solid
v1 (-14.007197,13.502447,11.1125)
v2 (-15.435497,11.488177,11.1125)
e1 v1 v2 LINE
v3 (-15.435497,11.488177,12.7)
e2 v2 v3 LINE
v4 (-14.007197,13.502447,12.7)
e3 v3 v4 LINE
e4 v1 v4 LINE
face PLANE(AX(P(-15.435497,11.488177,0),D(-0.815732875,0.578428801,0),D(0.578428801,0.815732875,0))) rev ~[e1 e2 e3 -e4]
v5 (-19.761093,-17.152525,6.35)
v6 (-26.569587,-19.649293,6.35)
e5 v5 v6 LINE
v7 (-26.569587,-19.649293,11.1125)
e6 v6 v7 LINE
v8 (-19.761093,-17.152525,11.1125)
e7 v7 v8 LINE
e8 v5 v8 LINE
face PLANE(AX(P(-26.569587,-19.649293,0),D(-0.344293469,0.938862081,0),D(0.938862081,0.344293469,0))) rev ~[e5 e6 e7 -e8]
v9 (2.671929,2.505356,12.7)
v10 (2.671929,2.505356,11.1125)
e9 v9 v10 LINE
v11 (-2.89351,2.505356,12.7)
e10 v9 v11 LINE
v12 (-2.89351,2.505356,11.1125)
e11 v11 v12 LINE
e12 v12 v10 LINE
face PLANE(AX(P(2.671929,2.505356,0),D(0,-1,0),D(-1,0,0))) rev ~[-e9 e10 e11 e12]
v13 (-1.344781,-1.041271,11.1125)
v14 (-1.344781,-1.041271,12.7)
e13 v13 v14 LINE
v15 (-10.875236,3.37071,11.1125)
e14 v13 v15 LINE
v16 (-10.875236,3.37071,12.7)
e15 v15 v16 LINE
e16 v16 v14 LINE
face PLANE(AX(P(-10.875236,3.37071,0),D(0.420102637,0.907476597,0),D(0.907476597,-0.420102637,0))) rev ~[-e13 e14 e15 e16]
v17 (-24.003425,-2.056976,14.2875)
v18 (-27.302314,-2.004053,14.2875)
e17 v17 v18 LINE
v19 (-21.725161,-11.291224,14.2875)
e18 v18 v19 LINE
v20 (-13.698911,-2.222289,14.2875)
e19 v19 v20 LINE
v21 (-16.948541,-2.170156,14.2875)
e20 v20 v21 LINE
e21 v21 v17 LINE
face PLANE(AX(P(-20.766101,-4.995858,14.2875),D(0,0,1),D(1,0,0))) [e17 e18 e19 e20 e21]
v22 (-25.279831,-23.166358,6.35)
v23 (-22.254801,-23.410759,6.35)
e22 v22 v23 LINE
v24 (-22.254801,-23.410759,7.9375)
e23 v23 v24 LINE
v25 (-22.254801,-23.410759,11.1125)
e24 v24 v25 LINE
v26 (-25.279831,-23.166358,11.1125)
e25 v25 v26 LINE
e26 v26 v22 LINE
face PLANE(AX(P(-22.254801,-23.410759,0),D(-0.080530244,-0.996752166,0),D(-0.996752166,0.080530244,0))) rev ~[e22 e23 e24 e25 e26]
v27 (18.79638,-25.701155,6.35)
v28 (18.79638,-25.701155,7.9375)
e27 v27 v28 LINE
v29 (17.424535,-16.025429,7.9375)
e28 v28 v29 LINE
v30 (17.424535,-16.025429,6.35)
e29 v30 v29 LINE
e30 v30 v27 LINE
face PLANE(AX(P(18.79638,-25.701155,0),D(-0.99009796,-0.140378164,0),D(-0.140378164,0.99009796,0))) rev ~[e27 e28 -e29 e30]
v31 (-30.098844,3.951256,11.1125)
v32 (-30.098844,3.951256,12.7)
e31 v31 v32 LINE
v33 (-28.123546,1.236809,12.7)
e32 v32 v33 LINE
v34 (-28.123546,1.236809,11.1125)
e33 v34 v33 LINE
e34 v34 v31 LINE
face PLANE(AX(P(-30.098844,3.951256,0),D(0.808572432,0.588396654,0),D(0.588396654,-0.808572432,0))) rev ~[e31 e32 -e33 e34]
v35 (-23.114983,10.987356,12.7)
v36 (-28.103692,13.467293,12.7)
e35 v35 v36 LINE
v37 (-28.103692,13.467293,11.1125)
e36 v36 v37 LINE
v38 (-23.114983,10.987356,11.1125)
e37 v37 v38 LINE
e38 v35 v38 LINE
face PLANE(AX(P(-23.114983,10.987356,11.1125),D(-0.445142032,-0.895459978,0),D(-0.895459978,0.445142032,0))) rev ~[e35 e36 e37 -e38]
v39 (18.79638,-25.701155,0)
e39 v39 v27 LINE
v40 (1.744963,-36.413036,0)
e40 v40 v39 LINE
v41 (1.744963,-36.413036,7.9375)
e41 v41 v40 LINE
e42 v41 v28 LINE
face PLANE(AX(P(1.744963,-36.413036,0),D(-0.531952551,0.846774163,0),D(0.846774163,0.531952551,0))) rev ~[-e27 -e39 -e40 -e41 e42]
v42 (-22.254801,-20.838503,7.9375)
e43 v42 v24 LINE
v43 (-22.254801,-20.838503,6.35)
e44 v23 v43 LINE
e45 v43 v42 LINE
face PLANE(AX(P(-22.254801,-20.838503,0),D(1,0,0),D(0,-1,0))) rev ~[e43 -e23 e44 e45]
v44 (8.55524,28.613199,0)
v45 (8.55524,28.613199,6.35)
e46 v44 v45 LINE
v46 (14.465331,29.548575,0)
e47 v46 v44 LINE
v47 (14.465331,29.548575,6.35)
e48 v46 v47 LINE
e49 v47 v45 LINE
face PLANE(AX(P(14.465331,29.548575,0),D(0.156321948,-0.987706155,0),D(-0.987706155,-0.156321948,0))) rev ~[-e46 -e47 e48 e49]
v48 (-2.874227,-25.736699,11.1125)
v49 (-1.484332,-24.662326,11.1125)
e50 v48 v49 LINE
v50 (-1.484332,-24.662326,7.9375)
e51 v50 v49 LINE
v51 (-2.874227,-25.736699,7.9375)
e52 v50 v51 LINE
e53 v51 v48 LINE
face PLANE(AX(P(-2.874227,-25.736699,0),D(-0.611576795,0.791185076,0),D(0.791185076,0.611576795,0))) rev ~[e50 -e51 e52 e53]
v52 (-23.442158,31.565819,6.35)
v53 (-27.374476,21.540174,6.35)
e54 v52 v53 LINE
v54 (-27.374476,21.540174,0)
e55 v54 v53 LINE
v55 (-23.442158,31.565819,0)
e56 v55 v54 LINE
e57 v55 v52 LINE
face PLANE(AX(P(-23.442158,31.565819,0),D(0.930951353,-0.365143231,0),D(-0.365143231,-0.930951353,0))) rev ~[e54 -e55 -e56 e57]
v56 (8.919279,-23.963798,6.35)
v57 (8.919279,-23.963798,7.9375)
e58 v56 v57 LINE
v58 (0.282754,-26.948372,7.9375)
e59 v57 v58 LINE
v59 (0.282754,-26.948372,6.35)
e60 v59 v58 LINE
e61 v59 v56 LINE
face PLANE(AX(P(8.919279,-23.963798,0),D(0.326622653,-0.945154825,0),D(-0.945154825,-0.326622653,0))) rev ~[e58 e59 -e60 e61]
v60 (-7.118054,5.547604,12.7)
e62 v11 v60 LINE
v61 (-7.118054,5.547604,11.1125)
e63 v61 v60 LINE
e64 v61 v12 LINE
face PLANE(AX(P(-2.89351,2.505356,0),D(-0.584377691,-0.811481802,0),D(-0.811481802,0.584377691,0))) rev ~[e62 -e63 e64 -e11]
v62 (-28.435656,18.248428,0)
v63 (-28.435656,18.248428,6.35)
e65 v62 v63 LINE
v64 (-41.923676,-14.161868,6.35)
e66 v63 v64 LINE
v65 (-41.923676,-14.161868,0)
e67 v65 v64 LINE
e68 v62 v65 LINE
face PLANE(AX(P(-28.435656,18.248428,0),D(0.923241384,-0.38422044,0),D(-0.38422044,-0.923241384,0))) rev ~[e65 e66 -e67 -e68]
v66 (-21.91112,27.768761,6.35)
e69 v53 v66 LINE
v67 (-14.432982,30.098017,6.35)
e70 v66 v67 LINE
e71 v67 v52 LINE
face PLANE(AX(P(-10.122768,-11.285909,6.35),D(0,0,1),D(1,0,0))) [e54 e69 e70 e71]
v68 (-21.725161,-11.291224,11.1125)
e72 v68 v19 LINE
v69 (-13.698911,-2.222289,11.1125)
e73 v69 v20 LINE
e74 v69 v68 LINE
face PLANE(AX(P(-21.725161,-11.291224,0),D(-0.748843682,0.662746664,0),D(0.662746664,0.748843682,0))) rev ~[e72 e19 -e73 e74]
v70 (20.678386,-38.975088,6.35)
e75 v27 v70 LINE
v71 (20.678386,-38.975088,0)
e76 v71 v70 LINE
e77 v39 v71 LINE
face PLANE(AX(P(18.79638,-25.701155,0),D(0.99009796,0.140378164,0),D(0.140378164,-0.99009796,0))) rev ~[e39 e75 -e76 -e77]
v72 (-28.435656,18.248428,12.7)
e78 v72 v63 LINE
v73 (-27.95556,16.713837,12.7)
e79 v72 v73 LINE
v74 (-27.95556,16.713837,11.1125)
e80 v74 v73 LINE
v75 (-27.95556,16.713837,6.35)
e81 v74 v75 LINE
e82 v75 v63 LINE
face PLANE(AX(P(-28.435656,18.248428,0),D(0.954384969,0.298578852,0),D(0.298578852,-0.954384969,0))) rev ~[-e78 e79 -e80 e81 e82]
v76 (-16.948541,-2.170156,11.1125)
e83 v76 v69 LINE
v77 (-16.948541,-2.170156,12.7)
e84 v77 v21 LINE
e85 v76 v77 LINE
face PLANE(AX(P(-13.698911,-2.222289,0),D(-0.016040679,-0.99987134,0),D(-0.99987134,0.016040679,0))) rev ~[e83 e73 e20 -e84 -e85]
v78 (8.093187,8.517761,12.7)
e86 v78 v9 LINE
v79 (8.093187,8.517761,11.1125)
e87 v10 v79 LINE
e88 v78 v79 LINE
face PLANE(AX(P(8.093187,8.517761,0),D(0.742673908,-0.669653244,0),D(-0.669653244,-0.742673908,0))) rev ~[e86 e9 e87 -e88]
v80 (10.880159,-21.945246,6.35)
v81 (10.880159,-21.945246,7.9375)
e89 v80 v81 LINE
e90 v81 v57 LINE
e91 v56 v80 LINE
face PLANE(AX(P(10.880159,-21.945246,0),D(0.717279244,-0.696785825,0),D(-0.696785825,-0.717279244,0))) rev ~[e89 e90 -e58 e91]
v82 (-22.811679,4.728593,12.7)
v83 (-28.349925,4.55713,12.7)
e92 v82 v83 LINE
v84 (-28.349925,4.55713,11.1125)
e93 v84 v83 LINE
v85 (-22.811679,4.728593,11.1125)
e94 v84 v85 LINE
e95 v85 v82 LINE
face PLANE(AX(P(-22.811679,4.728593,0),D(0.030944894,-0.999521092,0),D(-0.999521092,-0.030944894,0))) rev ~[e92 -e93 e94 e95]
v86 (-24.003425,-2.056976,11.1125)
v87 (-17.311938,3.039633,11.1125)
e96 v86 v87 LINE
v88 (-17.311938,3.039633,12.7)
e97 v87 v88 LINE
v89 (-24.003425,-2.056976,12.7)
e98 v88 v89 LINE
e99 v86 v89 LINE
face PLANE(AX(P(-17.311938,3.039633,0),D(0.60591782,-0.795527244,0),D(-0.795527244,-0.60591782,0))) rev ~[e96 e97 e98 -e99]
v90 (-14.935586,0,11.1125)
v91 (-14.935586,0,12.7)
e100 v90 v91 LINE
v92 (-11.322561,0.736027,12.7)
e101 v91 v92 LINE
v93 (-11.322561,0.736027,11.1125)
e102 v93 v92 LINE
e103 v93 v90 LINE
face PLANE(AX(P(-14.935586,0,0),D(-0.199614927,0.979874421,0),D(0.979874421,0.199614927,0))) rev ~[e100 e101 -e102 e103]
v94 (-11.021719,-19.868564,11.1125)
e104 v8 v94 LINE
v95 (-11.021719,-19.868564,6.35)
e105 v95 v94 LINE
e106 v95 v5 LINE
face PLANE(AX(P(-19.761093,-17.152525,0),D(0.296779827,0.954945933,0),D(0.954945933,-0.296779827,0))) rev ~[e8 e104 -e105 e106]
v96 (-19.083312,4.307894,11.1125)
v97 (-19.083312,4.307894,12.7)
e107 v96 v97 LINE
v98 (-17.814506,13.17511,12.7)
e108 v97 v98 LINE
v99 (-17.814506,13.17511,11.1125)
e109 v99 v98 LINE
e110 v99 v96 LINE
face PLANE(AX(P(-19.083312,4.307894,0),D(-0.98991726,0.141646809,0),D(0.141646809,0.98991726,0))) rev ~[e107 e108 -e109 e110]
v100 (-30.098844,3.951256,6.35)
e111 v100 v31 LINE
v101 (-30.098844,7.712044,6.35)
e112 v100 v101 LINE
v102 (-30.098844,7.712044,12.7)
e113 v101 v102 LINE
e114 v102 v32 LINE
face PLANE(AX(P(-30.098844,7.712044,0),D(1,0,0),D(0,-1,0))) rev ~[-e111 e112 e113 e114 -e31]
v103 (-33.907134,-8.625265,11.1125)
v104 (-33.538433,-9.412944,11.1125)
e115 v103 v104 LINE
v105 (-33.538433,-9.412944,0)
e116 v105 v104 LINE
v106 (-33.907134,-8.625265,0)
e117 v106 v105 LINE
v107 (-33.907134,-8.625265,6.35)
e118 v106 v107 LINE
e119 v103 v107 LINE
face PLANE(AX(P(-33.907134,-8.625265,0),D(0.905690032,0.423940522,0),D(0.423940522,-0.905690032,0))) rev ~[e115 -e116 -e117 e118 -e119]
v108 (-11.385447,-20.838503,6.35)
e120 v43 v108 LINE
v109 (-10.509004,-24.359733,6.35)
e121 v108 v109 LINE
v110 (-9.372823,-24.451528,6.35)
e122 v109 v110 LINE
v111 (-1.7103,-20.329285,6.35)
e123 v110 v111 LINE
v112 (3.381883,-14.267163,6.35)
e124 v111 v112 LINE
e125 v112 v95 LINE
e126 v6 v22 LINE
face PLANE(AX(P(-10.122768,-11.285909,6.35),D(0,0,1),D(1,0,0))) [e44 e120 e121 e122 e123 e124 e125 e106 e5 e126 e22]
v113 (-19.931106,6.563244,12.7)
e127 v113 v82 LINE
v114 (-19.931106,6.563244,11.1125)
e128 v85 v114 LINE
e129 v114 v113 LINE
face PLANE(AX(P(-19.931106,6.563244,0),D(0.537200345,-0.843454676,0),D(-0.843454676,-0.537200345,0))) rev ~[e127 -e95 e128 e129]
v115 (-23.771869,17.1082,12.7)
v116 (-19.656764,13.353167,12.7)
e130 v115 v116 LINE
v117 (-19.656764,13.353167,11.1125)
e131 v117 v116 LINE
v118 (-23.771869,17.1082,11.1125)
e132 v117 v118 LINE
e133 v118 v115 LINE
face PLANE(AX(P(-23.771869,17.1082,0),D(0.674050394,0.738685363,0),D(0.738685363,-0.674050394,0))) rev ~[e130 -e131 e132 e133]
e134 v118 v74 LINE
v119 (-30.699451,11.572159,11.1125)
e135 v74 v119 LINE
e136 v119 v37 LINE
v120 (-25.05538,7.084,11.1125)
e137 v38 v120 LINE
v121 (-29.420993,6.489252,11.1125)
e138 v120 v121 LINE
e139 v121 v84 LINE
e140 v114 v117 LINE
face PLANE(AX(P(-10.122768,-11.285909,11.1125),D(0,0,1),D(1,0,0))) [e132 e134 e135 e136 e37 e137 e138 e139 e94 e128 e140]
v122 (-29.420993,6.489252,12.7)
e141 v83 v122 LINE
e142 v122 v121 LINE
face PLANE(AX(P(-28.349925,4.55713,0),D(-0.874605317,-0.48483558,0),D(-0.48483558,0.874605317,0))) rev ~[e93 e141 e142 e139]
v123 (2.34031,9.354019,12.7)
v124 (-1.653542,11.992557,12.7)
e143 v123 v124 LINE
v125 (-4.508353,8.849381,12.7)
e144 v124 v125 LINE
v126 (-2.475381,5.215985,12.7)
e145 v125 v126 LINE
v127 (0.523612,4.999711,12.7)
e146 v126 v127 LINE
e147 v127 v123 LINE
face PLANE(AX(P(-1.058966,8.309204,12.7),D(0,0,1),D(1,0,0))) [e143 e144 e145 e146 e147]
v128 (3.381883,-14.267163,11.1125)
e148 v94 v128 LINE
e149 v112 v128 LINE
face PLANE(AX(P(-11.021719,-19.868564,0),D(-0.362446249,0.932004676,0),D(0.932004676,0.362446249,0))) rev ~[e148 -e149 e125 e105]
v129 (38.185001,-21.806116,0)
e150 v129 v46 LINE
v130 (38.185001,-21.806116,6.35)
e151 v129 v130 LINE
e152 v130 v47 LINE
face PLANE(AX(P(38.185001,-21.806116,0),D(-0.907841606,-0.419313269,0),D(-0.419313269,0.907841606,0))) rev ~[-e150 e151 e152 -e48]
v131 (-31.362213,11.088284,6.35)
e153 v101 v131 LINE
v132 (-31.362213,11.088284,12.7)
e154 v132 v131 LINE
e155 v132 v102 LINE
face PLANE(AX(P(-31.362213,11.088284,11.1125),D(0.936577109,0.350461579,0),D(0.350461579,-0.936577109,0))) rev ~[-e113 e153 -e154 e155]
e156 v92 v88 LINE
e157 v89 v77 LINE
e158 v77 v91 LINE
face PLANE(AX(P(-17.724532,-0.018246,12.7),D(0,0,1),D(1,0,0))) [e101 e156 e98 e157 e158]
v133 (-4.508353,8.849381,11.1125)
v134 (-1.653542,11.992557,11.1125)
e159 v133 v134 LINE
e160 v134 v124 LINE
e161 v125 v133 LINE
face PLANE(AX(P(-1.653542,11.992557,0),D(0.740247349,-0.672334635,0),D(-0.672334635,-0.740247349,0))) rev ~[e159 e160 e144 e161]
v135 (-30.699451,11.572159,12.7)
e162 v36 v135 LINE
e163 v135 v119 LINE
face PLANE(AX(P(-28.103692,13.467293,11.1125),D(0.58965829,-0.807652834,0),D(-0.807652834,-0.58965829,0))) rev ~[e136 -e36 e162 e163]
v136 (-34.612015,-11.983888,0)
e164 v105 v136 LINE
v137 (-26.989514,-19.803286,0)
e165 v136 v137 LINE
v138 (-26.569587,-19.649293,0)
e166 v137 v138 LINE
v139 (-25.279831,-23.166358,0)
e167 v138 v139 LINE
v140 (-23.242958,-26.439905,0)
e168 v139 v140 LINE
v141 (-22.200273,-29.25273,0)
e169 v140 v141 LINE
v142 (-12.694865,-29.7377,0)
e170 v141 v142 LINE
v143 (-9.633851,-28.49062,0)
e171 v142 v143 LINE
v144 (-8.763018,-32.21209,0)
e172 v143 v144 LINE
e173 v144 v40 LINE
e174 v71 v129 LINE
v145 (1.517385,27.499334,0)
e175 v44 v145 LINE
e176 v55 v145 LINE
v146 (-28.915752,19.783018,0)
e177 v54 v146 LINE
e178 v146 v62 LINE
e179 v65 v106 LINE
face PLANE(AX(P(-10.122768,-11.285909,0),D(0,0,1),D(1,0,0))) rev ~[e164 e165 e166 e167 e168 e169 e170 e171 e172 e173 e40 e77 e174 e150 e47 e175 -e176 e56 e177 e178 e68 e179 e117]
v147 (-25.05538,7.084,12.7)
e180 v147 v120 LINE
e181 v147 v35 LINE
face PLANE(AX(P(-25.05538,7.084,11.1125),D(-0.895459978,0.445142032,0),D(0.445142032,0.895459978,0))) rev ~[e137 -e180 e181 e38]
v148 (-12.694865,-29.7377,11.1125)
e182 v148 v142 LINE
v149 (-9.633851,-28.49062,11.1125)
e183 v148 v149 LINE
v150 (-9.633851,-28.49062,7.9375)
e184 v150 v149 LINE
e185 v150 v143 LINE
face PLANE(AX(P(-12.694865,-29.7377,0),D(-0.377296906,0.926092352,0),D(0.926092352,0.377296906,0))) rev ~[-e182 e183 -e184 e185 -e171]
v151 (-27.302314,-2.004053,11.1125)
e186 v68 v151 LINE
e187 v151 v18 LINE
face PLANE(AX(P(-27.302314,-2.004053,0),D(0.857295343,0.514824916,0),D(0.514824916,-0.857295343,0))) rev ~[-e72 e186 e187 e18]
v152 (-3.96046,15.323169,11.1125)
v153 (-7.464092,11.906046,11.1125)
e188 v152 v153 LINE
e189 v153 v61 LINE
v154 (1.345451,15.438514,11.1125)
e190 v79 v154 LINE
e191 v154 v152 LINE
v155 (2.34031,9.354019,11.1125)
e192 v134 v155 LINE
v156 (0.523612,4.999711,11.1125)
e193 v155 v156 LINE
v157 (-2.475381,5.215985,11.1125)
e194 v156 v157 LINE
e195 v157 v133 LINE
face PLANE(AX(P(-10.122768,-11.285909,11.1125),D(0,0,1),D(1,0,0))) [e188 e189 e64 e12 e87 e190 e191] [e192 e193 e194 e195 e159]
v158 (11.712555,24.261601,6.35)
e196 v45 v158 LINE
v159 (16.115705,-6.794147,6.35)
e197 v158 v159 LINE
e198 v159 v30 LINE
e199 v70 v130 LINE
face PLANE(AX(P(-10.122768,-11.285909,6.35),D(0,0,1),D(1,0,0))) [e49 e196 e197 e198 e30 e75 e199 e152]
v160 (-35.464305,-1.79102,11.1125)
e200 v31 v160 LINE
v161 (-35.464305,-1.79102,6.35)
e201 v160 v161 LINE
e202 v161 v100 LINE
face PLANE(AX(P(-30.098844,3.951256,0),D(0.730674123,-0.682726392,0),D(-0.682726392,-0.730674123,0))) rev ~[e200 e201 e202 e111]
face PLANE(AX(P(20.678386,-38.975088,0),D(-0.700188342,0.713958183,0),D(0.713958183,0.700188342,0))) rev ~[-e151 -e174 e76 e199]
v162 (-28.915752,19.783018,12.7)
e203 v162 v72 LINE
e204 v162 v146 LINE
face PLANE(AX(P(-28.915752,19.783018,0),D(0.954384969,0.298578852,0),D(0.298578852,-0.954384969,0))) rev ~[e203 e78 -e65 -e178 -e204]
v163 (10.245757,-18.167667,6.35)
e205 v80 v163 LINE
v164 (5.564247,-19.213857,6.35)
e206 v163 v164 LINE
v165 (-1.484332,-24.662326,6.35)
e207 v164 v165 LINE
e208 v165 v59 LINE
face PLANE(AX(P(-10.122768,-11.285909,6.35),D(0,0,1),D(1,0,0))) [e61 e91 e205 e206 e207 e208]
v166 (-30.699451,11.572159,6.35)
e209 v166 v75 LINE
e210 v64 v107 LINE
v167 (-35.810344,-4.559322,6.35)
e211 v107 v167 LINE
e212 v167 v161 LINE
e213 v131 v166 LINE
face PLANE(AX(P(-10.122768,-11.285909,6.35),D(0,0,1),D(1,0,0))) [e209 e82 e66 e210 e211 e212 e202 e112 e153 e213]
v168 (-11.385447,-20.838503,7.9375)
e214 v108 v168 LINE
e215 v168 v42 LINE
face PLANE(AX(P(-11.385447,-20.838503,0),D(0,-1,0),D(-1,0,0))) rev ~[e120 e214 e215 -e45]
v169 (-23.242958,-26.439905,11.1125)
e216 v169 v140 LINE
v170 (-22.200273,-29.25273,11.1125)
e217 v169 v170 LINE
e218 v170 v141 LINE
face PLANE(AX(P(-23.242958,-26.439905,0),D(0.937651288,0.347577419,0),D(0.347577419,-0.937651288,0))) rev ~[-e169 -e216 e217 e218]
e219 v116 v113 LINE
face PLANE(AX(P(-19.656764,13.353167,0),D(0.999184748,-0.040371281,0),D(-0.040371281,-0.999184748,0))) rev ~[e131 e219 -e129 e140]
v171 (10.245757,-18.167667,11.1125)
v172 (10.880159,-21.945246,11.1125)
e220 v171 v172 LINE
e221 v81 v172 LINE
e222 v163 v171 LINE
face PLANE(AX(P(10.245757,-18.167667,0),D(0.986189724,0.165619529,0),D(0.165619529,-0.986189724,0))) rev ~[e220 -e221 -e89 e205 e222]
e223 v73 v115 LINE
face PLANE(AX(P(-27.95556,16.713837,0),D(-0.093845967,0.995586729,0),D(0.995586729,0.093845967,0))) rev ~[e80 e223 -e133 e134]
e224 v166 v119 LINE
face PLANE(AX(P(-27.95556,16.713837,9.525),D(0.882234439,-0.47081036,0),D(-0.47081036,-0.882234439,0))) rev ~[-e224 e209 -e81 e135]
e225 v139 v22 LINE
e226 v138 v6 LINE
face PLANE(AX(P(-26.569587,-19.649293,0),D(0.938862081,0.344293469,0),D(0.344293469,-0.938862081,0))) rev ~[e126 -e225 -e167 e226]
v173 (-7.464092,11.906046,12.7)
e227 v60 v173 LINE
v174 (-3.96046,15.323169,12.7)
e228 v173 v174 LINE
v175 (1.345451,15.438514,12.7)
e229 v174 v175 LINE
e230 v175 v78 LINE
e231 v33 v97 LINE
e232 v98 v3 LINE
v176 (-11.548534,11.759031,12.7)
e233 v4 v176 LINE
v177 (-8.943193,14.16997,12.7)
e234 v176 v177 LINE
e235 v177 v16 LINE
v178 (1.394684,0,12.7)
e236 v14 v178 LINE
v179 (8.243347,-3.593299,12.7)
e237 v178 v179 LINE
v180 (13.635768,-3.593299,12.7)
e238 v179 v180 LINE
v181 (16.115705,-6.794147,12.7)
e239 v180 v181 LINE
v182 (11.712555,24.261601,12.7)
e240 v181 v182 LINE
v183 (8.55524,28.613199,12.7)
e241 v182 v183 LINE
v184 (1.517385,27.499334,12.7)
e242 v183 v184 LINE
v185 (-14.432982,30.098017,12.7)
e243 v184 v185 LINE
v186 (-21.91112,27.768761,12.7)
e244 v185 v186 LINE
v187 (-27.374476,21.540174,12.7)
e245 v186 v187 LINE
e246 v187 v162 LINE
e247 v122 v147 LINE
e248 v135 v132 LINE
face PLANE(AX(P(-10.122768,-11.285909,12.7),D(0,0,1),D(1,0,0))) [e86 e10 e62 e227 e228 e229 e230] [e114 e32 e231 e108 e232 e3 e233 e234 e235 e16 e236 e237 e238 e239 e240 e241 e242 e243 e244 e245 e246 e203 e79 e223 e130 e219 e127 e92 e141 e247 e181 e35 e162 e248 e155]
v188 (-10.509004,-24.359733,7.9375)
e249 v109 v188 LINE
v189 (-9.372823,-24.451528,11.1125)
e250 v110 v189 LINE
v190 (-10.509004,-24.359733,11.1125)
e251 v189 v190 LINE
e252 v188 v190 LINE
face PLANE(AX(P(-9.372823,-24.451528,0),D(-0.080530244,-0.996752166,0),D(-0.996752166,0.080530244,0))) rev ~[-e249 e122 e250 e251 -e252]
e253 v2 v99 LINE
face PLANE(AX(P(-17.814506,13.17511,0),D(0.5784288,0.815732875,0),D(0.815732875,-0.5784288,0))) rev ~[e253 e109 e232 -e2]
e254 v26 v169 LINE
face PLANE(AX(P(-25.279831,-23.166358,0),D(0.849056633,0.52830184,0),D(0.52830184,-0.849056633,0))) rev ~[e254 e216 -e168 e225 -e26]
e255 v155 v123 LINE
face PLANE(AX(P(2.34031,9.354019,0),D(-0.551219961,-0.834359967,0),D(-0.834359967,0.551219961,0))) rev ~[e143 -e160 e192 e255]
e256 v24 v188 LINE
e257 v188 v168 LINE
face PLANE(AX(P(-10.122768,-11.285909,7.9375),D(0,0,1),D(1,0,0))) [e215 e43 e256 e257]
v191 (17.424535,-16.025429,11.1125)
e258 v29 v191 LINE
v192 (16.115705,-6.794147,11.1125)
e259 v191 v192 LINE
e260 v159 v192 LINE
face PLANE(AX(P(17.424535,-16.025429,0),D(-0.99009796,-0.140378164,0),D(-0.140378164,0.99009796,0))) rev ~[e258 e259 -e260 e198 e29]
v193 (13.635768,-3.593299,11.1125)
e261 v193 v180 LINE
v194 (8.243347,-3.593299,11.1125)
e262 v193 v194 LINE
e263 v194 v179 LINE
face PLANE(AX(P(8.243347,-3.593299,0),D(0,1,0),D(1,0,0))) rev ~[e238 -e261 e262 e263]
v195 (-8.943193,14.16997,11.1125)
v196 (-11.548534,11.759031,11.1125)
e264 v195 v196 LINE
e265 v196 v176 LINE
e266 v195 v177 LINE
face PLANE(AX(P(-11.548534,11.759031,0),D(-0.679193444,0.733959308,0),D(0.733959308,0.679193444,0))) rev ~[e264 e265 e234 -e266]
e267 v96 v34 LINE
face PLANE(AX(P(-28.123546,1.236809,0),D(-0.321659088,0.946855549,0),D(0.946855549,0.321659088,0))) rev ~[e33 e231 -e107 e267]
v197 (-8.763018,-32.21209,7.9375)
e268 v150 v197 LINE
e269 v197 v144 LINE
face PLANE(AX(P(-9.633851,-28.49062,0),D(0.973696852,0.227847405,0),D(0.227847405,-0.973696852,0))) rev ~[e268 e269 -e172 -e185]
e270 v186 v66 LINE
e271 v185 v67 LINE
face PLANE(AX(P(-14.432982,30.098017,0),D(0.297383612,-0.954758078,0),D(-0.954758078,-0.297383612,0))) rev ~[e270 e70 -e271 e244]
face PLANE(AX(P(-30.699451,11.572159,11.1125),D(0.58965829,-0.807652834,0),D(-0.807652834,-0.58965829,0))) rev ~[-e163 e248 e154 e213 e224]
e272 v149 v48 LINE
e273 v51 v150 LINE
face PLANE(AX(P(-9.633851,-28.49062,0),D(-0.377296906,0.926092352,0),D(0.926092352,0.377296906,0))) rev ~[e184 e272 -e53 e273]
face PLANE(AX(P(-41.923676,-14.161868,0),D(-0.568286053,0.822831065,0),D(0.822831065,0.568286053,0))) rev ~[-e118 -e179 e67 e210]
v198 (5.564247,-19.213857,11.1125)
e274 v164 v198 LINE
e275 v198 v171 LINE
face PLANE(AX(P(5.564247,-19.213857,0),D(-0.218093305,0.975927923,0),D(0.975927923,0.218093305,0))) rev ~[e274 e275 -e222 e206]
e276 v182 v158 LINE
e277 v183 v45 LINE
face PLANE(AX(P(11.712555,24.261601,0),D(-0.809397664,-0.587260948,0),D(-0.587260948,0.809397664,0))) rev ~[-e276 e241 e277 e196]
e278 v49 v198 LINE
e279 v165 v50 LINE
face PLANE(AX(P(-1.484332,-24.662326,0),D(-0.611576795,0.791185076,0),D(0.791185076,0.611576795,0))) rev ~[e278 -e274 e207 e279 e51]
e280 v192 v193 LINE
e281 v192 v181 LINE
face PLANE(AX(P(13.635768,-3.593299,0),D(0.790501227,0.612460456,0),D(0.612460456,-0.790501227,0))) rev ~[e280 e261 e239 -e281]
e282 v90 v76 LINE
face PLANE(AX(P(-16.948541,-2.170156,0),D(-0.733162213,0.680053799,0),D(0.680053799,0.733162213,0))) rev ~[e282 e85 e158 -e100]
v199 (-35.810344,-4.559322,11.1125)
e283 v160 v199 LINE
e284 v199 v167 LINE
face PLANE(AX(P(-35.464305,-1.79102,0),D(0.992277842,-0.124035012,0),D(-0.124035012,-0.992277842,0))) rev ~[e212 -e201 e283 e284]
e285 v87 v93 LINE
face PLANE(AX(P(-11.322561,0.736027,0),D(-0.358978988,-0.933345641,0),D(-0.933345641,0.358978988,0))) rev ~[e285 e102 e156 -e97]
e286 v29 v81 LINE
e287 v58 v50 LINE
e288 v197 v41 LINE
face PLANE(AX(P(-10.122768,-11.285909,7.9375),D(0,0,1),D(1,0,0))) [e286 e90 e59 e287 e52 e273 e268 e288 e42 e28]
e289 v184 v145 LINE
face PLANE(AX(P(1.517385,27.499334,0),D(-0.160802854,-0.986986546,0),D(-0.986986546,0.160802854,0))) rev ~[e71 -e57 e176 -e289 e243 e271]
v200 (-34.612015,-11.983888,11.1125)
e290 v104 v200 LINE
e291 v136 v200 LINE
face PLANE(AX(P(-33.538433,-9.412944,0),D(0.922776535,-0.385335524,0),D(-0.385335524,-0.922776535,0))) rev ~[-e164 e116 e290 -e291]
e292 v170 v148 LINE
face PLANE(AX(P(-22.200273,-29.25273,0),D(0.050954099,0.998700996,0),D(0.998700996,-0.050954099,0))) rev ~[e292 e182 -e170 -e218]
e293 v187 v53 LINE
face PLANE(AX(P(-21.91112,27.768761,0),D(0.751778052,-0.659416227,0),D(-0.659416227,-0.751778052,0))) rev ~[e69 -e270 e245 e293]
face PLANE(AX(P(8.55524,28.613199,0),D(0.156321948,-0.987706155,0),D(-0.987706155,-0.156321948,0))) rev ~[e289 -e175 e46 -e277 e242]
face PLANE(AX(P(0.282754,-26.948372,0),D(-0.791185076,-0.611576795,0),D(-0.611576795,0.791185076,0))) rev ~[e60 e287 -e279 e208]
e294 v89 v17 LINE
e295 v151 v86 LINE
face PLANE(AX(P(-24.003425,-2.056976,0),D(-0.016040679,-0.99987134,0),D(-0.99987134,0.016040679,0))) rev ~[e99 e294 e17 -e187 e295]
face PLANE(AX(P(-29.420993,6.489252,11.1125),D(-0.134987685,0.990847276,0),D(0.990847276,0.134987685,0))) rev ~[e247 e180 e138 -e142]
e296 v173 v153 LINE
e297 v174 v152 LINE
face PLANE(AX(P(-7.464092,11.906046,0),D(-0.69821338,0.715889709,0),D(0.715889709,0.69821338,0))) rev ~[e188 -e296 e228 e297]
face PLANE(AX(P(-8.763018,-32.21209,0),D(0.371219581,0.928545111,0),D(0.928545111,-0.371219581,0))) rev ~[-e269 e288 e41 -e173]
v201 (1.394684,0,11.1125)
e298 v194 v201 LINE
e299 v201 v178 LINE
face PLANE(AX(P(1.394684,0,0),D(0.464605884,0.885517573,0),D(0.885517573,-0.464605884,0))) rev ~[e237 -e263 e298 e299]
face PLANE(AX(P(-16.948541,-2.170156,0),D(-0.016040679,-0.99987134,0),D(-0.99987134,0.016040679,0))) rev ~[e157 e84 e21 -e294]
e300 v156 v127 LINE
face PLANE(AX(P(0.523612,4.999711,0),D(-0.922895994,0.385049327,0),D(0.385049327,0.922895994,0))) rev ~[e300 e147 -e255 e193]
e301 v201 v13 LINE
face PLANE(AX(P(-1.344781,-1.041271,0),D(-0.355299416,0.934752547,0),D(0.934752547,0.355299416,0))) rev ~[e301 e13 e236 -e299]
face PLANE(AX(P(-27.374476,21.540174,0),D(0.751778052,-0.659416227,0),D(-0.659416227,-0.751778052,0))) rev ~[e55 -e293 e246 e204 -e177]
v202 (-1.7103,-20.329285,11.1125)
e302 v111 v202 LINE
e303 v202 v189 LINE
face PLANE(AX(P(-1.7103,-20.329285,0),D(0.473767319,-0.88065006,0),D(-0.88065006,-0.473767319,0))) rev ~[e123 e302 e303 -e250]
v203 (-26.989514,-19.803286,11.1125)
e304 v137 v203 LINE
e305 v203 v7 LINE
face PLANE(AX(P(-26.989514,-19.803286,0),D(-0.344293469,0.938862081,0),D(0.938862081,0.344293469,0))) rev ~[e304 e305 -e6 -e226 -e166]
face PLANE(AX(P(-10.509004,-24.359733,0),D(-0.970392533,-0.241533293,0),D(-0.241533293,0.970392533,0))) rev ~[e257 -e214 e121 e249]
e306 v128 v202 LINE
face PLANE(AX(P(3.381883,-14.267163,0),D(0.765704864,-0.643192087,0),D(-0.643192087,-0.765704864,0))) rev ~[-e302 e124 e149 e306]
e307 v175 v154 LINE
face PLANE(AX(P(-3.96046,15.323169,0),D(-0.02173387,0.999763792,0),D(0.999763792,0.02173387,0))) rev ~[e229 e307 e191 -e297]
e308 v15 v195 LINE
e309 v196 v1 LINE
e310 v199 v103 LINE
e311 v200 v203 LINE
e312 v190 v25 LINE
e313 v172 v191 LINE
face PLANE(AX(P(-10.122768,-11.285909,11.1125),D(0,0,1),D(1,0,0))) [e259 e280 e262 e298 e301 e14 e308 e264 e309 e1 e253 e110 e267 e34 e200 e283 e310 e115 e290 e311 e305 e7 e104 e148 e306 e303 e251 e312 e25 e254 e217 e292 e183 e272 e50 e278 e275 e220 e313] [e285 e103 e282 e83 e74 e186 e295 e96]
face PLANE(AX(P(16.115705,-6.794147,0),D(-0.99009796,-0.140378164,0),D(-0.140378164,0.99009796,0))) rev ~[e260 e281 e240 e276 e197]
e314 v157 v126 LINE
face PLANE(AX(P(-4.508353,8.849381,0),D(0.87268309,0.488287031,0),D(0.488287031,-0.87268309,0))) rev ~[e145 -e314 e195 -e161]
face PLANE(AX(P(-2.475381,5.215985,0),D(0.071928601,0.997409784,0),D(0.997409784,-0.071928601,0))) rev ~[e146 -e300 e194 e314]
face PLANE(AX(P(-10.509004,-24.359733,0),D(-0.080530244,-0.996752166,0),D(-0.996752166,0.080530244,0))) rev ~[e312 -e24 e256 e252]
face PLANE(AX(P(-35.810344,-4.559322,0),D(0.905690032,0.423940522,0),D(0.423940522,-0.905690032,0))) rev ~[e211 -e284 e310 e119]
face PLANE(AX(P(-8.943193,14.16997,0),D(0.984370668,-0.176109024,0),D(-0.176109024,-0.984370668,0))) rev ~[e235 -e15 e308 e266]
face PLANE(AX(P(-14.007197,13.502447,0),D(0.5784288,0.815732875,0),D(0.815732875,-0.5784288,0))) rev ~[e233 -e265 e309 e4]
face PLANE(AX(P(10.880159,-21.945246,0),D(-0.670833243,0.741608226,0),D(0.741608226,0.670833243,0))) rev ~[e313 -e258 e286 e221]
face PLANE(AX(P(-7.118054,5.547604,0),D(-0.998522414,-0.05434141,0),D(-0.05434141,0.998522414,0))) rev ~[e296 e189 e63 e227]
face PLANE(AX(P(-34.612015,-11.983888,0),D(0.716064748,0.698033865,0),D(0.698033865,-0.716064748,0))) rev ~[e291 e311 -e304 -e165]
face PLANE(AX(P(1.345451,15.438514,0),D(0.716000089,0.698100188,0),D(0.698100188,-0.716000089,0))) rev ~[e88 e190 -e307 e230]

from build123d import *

# Parameters (mm, degrees)
F1_DEPTH = 6.35
F2_DEPTH = 7.9375
F3_DEPTH = 9.525
F4_DEPTH = 11.1125
F5_DEPTH = 12.7
F6_DEPTH = 14.2875
F7_DEPTH = 1.5875
F8_DEPTH = 1.5875


with BuildPart() as f1:
    # F0 (on Top) → F1 (new body)
    with BuildSketch(Plane.XY):
        Polygon((-35.8103439212, -4.5593217947), (-33.9071340859, -8.6252652109), (-33.5384329894, -9.412943883), (-34.6120148897, -11.9838882238), (-26.9895140082, -19.8032855988), (-26.5695869222, -19.6492926364), (-19.7610929608, -17.1525254846), (-11.0217193142, -19.8685638607), (3.3818825614, -14.2671633512), (-1.7102999846, -20.329285413), (-9.3728229403, -24.4515277445), (-10.5090038238, -24.3597326853), (-22.254801242, -23.410758639), (-25.2798311412, -23.1663584709), (-23.24295789, -26.4399051666), (-22.2002733499, -29.25273031), (-12.6948654652, -29.7376997769), (-9.6338509958, -28.4906197353), (-2.8742274735, -25.7366988808), (-1.4843321561, -24.6623260829), (5.5642467923, -19.2138571292), (10.2457571775, -18.1676670909), (10.8801592141, -21.945245564), (17.4245349995, -16.0254287724), (16.1157045513, -6.7941471934), (13.6357676238, -3.5932986066), (8.2433465868, -3.5932986066), (1.394683728, 0), (-1.3447812526, -1.0412705597), (-10.875236243, 3.3707101829), (-8.9431926608, 14.169969596), (-11.5485337064, 11.7590313642), (-14.0071965859, 13.5024469656), (-15.4354972765, 11.4881768823), (-17.8145058453, 13.1751103327), (-19.0833117813, 4.3078940362), (-28.1235463917, 1.2368093012), (-30.0988443196, 3.9512561634), (-35.4643054307, -1.7910201568), align=None)
        Polygon((-13.6989112943, -2.2222886328), (-21.7251610011, -11.2912235782), (-27.302313596, -2.0040527452), (-24.003424822, -2.0569759701), (-17.311938107, 3.0396326911), (-11.3225607201, 0.7360266754), (-14.9355856702, 0), (-16.9485407512, -2.1701556624), align=None, mode=Mode.SUBTRACT)
        Polygon((-27.3744759216, 21.5401743719), (-28.9157517254, 19.7830181569), (-28.4356558695, 18.2484276593), (-27.9555600137, 16.7138371617), (-23.7718690187, 17.1082001179), (-19.6567643434, 13.3531671017), (-19.9311058968, 6.5632439218), (-22.8116791695, 4.7285929322), (-28.3499248326, 4.5571303926), (-29.4209925105, 6.4892523833), (-30.0988443196, 7.7120438218), (-30.0988443196, 3.9512561634), (-28.1235463917, 1.2368093012), (-19.0833117813, 4.3078940362), (-17.8145058453, 13.1751103327), (-15.4354972765, 11.4881768823), (-14.0071965859, 13.5024469656), (-11.5485337064, 11.7590313642), (-8.9431926608, 14.169969596), (-10.875236243, 3.3707101829), (-1.3447812526, -1.0412705597), (1.394683728, 0), (8.2433465868, -3.5932986066), (13.6357676238, -3.5932986066), (16.1157045513, -6.7941471934), (11.7125554425, 24.2616013296), (8.5552403661, 28.6131991288), (1.5173847093, 27.499334136), (-14.4329823518, 30.0980165206), (-21.9111200422, 27.7687609196), align=None)
        Polygon((-7.1180537343, 5.5476040579), (-7.4640917592, 11.9060464203), (-3.9604599588, 15.3231685981), (1.3454514556, 15.4385138303), (8.0931866542, 8.5177607834), (2.6719293091, 2.5053559802), (-2.8935102746, 2.5053559802), align=None, mode=Mode.SUBTRACT)
        Polygon((14.4653307977, 29.548575351), (8.5552403661, 28.6131991288), (11.7125554425, 24.2616013296), (16.1157045513, -6.7941471934), (17.4245349995, -16.0254287724), (18.7963797011, -25.7011547155), (20.6783857611, -38.9750878654), (38.1850010487, -21.8061160352), align=None)
        Polygon((18.7963797011, -25.7011547155), (17.4245349995, -16.0254287724), (10.8801592141, -21.945245564), (8.9192790911, -23.9637978375), (0.2827544813, -26.9483719021), (-1.4843321561, -24.6623260829), (-2.8742274735, -25.7366988808), (-9.6338509958, -28.4906197353), (-8.7630180642, -32.2120897472), (1.7449631123, -36.4130362868), align=None)
        Polygon((-3.9604599588, 15.3231685981), (-7.4640917592, 11.9060464203), (-7.1180537343, 5.5476040579), (-2.8935102746, 2.5053559802), (2.6719293091, 2.5053559802), (8.0931866542, 8.5177607834), (1.3454514556, 15.4385138303), align=None)
        Polygon((-2.4753811304, 5.2159847692), (-4.5083528385, 8.8493805379), (-1.6535416944, 11.9925569743), (2.3403100204, 9.3540186062), (0.5236121942, 4.9997111782), align=None, mode=Mode.SUBTRACT)
        Polygon((-19.7610929608, -17.1525254846), (-26.5695869222, -19.6492926364), (-25.2798311412, -23.1663584709), (-22.254801242, -23.410758639), (-22.254801242, -20.8385027945), (-11.3854473457, -20.8385027945), (-10.5090038238, -24.3597326853), (-9.3728229403, -24.4515277445), (-1.7102999846, -20.329285413), (3.3818825614, -14.2671633512), (-11.0217193142, -19.8685638607), align=None)
        Polygon((-27.9555600137, 16.7138371617), (-28.4356558695, 18.2484276593), (-41.9236756861, -14.1618680209), (-33.9071340859, -8.6252652109), (-35.8103439212, -4.5593217947), (-35.4643054307, -1.7910201568), (-30.0988443196, 3.9512561634), (-30.0988443196, 7.7120438218), (-31.3622131944, 11.0882837325), (-30.6994514223, 11.5721586804), align=None)
        Polygon((-23.7718690187, 17.1082001179), (-27.9555600137, 16.7138371617), (-30.6994514223, 11.5721586804), (-28.1036924571, 13.4672932327), (-23.1149829924, 10.9873563051), (-25.0553801825, 7.0839998448), (-29.4209925105, 6.4892523833), (-28.3499248326, 4.5571303926), (-22.8116791695, 4.7285929322), (-19.9311058968, 6.5632439218), (-19.6567643434, 13.3531671017), align=None)
        Polygon((-27.302313596, -2.0040527452), (-21.7251610011, -11.2912235782), (-13.6989112943, -2.2222886328), (-16.9485407512, -2.1701556624), (-24.003424822, -2.0569759701), align=None)
        Polygon((8.9192790911, -23.9637978375), (10.8801592141, -21.945245564), (10.2457571775, -18.1676670909), (5.5642467923, -19.2138571292), (-1.4843321561, -24.6623260829), (0.2827544813, -26.9483719021), align=None)
        Polygon((-28.1036924571, 13.4672932327), (-30.6994514223, 11.5721586804), (-31.3622131944, 11.0882837325), (-30.0988443196, 7.7120438218), (-29.4209925105, 6.4892523833), (-25.0553801825, 7.0839998448), (-23.1149829924, 10.9873563051), align=None)
        Polygon((-22.254801242, -20.8385027945), (-22.254801242, -23.410758639), (-10.5090038238, -24.3597326853), (-11.3854473457, -20.8385027945), align=None)
        Polygon((-23.4421584755, 31.5658189356), (-27.3744759216, 21.5401743719), (-21.9111200422, 27.7687609196), (-14.4329823518, 30.0980165206), align=None)
        Polygon((-24.003424822, -2.0569759701), (-16.9485407512, -2.1701556624), (-14.9355856702, 0), (-11.3225607201, 0.7360266754), (-17.311938107, 3.0396326911), align=None)
        Polygon((-1.6535416944, 11.9925569743), (-4.5083528385, 8.8493805379), (-2.4753811304, 5.2159847692), (0.5236121942, 4.9997111782), (2.3403100204, 9.3540186062), align=None)
    extrude(amount=F1_DEPTH)

    # F0 (on Top) → F2 (join)
    with BuildSketch(Plane.XY):
        Polygon((-35.8103439212, -4.5593217947), (-33.9071340859, -8.6252652109), (-33.5384329894, -9.412943883), (-34.6120148897, -11.9838882238), (-26.9895140082, -19.8032855988), (-26.5695869222, -19.6492926364), (-19.7610929608, -17.1525254846), (-11.0217193142, -19.8685638607), (3.3818825614, -14.2671633512), (-1.7102999846, -20.329285413), (-9.3728229403, -24.4515277445), (-10.5090038238, -24.3597326853), (-22.254801242, -23.410758639), (-25.2798311412, -23.1663584709), (-23.24295789, -26.4399051666), (-22.2002733499, -29.25273031), (-12.6948654652, -29.7376997769), (-9.6338509958, -28.4906197353), (-2.8742274735, -25.7366988808), (-1.4843321561, -24.6623260829), (5.5642467923, -19.2138571292), (10.2457571775, -18.1676670909), (10.8801592141, -21.945245564), (17.4245349995, -16.0254287724), (16.1157045513, -6.7941471934), (13.6357676238, -3.5932986066), (8.2433465868, -3.5932986066), (1.394683728, 0), (-1.3447812526, -1.0412705597), (-10.875236243, 3.3707101829), (-8.9431926608, 14.169969596), (-11.5485337064, 11.7590313642), (-14.0071965859, 13.5024469656), (-15.4354972765, 11.4881768823), (-17.8145058453, 13.1751103327), (-19.0833117813, 4.3078940362), (-28.1235463917, 1.2368093012), (-30.0988443196, 3.9512561634), (-35.4643054307, -1.7910201568), align=None)
        Polygon((-13.6989112943, -2.2222886328), (-21.7251610011, -11.2912235782), (-27.302313596, -2.0040527452), (-24.003424822, -2.0569759701), (-17.311938107, 3.0396326911), (-11.3225607201, 0.7360266754), (-14.9355856702, 0), (-16.9485407512, -2.1701556624), align=None, mode=Mode.SUBTRACT)
        Polygon((-27.3744759216, 21.5401743719), (-28.9157517254, 19.7830181569), (-28.4356558695, 18.2484276593), (-27.9555600137, 16.7138371617), (-23.7718690187, 17.1082001179), (-19.6567643434, 13.3531671017), (-19.9311058968, 6.5632439218), (-22.8116791695, 4.7285929322), (-28.3499248326, 4.5571303926), (-29.4209925105, 6.4892523833), (-30.0988443196, 7.7120438218), (-30.0988443196, 3.9512561634), (-28.1235463917, 1.2368093012), (-19.0833117813, 4.3078940362), (-17.8145058453, 13.1751103327), (-15.4354972765, 11.4881768823), (-14.0071965859, 13.5024469656), (-11.5485337064, 11.7590313642), (-8.9431926608, 14.169969596), (-10.875236243, 3.3707101829), (-1.3447812526, -1.0412705597), (1.394683728, 0), (8.2433465868, -3.5932986066), (13.6357676238, -3.5932986066), (16.1157045513, -6.7941471934), (11.7125554425, 24.2616013296), (8.5552403661, 28.6131991288), (1.5173847093, 27.499334136), (-14.4329823518, 30.0980165206), (-21.9111200422, 27.7687609196), align=None)
        Polygon((-7.1180537343, 5.5476040579), (-7.4640917592, 11.9060464203), (-3.9604599588, 15.3231685981), (1.3454514556, 15.4385138303), (8.0931866542, 8.5177607834), (2.6719293091, 2.5053559802), (-2.8935102746, 2.5053559802), align=None, mode=Mode.SUBTRACT)
        Polygon((-22.254801242, -20.8385027945), (-22.254801242, -23.410758639), (-10.5090038238, -24.3597326853), (-11.3854473457, -20.8385027945), align=None)
        Polygon((-28.1036924571, 13.4672932327), (-30.6994514223, 11.5721586804), (-31.3622131944, 11.0882837325), (-30.0988443196, 7.7120438218), (-29.4209925105, 6.4892523833), (-25.0553801825, 7.0839998448), (-23.1149829924, 10.9873563051), align=None)
        Polygon((-1.6535416944, 11.9925569743), (-4.5083528385, 8.8493805379), (-2.4753811304, 5.2159847692), (0.5236121942, 4.9997111782), (2.3403100204, 9.3540186062), align=None)
        Polygon((-24.003424822, -2.0569759701), (-16.9485407512, -2.1701556624), (-14.9355856702, 0), (-11.3225607201, 0.7360266754), (-17.311938107, 3.0396326911), align=None)
        Polygon((-27.302313596, -2.0040527452), (-21.7251610011, -11.2912235782), (-13.6989112943, -2.2222886328), (-16.9485407512, -2.1701556624), (-24.003424822, -2.0569759701), align=None)
        Polygon((18.7963797011, -25.7011547155), (17.4245349995, -16.0254287724), (10.8801592141, -21.945245564), (8.9192790911, -23.9637978375), (0.2827544813, -26.9483719021), (-1.4843321561, -24.6623260829), (-2.8742274735, -25.7366988808), (-9.6338509958, -28.4906197353), (-8.7630180642, -32.2120897472), (1.7449631123, -36.4130362868), align=None)
    extrude(amount=F2_DEPTH)

    # F0 (on Top) → F3 (join)
    with BuildSketch(Plane.XY):
        Polygon((-35.8103439212, -4.5593217947), (-33.9071340859, -8.6252652109), (-33.5384329894, -9.412943883), (-34.6120148897, -11.9838882238), (-26.9895140082, -19.8032855988), (-26.5695869222, -19.6492926364), (-19.7610929608, -17.1525254846), (-11.0217193142, -19.8685638607), (3.3818825614, -14.2671633512), (-1.7102999846, -20.329285413), (-9.3728229403, -24.4515277445), (-10.5090038238, -24.3597326853), (-22.254801242, -23.410758639), (-25.2798311412, -23.1663584709), (-23.24295789, -26.4399051666), (-22.2002733499, -29.25273031), (-12.6948654652, -29.7376997769), (-9.6338509958, -28.4906197353), (-2.8742274735, -25.7366988808), (-1.4843321561, -24.6623260829), (5.5642467923, -19.2138571292), (10.2457571775, -18.1676670909), (10.8801592141, -21.945245564), (17.4245349995, -16.0254287724), (16.1157045513, -6.7941471934), (13.6357676238, -3.5932986066), (8.2433465868, -3.5932986066), (1.394683728, 0), (-1.3447812526, -1.0412705597), (-10.875236243, 3.3707101829), (-8.9431926608, 14.169969596), (-11.5485337064, 11.7590313642), (-14.0071965859, 13.5024469656), (-15.4354972765, 11.4881768823), (-17.8145058453, 13.1751103327), (-19.0833117813, 4.3078940362), (-28.1235463917, 1.2368093012), (-30.0988443196, 3.9512561634), (-35.4643054307, -1.7910201568), align=None)
        Polygon((-13.6989112943, -2.2222886328), (-21.7251610011, -11.2912235782), (-27.302313596, -2.0040527452), (-24.003424822, -2.0569759701), (-17.311938107, 3.0396326911), (-11.3225607201, 0.7360266754), (-14.9355856702, 0), (-16.9485407512, -2.1701556624), align=None, mode=Mode.SUBTRACT)
        Polygon((-27.3744759216, 21.5401743719), (-28.9157517254, 19.7830181569), (-28.4356558695, 18.2484276593), (-27.9555600137, 16.7138371617), (-23.7718690187, 17.1082001179), (-19.6567643434, 13.3531671017), (-19.9311058968, 6.5632439218), (-22.8116791695, 4.7285929322), (-28.3499248326, 4.5571303926), (-29.4209925105, 6.4892523833), (-30.0988443196, 7.7120438218), (-30.0988443196, 3.9512561634), (-28.1235463917, 1.2368093012), (-19.0833117813, 4.3078940362), (-17.8145058453, 13.1751103327), (-15.4354972765, 11.4881768823), (-14.0071965859, 13.5024469656), (-11.5485337064, 11.7590313642), (-8.9431926608, 14.169969596), (-10.875236243, 3.3707101829), (-1.3447812526, -1.0412705597), (1.394683728, 0), (8.2433465868, -3.5932986066), (13.6357676238, -3.5932986066), (16.1157045513, -6.7941471934), (11.7125554425, 24.2616013296), (8.5552403661, 28.6131991288), (1.5173847093, 27.499334136), (-14.4329823518, 30.0980165206), (-21.9111200422, 27.7687609196), align=None)
        Polygon((-7.1180537343, 5.5476040579), (-7.4640917592, 11.9060464203), (-3.9604599588, 15.3231685981), (1.3454514556, 15.4385138303), (8.0931866542, 8.5177607834), (2.6719293091, 2.5053559802), (-2.8935102746, 2.5053559802), align=None, mode=Mode.SUBTRACT)
        Polygon((-3.9604599588, 15.3231685981), (-7.4640917592, 11.9060464203), (-7.1180537343, 5.5476040579), (-2.8935102746, 2.5053559802), (2.6719293091, 2.5053559802), (8.0931866542, 8.5177607834), (1.3454514556, 15.4385138303), align=None)
        Polygon((-2.4753811304, 5.2159847692), (-4.5083528385, 8.8493805379), (-1.6535416944, 11.9925569743), (2.3403100204, 9.3540186062), (0.5236121942, 4.9997111782), align=None, mode=Mode.SUBTRACT)
        Polygon((-23.7718690187, 17.1082001179), (-27.9555600137, 16.7138371617), (-30.6994514223, 11.5721586804), (-28.1036924571, 13.4672932327), (-23.1149829924, 10.9873563051), (-25.0553801825, 7.0839998448), (-29.4209925105, 6.4892523833), (-28.3499248326, 4.5571303926), (-22.8116791695, 4.7285929322), (-19.9311058968, 6.5632439218), (-19.6567643434, 13.3531671017), align=None)
        Polygon((-27.302313596, -2.0040527452), (-21.7251610011, -11.2912235782), (-13.6989112943, -2.2222886328), (-16.9485407512, -2.1701556624), (-24.003424822, -2.0569759701), align=None)
        Polygon((-28.1036924571, 13.4672932327), (-30.6994514223, 11.5721586804), (-31.3622131944, 11.0882837325), (-30.0988443196, 7.7120438218), (-29.4209925105, 6.4892523833), (-25.0553801825, 7.0839998448), (-23.1149829924, 10.9873563051), align=None)
        Polygon((-24.003424822, -2.0569759701), (-16.9485407512, -2.1701556624), (-14.9355856702, 0), (-11.3225607201, 0.7360266754), (-17.311938107, 3.0396326911), align=None)
        Polygon((-1.6535416944, 11.9925569743), (-4.5083528385, 8.8493805379), (-2.4753811304, 5.2159847692), (0.5236121942, 4.9997111782), (2.3403100204, 9.3540186062), align=None)
    extrude(amount=F3_DEPTH)

    # F0 (on Top) → F4 (join)
    with BuildSketch(Plane.XY):
        Polygon((-35.8103439212, -4.5593217947), (-33.9071340859, -8.6252652109), (-33.5384329894, -9.412943883), (-34.6120148897, -11.9838882238), (-26.9895140082, -19.8032855988), (-26.5695869222, -19.6492926364), (-19.7610929608, -17.1525254846), (-11.0217193142, -19.8685638607), (3.3818825614, -14.2671633512), (-1.7102999846, -20.329285413), (-9.3728229403, -24.4515277445), (-10.5090038238, -24.3597326853), (-22.254801242, -23.410758639), (-25.2798311412, -23.1663584709), (-23.24295789, -26.4399051666), (-22.2002733499, -29.25273031), (-12.6948654652, -29.7376997769), (-9.6338509958, -28.4906197353), (-2.8742274735, -25.7366988808), (-1.4843321561, -24.6623260829), (5.5642467923, -19.2138571292), (10.2457571775, -18.1676670909), (10.8801592141, -21.945245564), (17.4245349995, -16.0254287724), (16.1157045513, -6.7941471934), (13.6357676238, -3.5932986066), (8.2433465868, -3.5932986066), (1.394683728, 0), (-1.3447812526, -1.0412705597), (-10.875236243, 3.3707101829), (-8.9431926608, 14.169969596), (-11.5485337064, 11.7590313642), (-14.0071965859, 13.5024469656), (-15.4354972765, 11.4881768823), (-17.8145058453, 13.1751103327), (-19.0833117813, 4.3078940362), (-28.1235463917, 1.2368093012), (-30.0988443196, 3.9512561634), (-35.4643054307, -1.7910201568), align=None)
        Polygon((-13.6989112943, -2.2222886328), (-21.7251610011, -11.2912235782), (-27.302313596, -2.0040527452), (-24.003424822, -2.0569759701), (-17.311938107, 3.0396326911), (-11.3225607201, 0.7360266754), (-14.9355856702, 0), (-16.9485407512, -2.1701556624), align=None, mode=Mode.SUBTRACT)
        Polygon((-27.302313596, -2.0040527452), (-21.7251610011, -11.2912235782), (-13.6989112943, -2.2222886328), (-16.9485407512, -2.1701556624), (-24.003424822, -2.0569759701), align=None)
        Polygon((-24.003424822, -2.0569759701), (-16.9485407512, -2.1701556624), (-14.9355856702, 0), (-11.3225607201, 0.7360266754), (-17.311938107, 3.0396326911), align=None)
        Polygon((-27.3744759216, 21.5401743719), (-28.9157517254, 19.7830181569), (-28.4356558695, 18.2484276593), (-27.9555600137, 16.7138371617), (-23.7718690187, 17.1082001179), (-19.6567643434, 13.3531671017), (-19.9311058968, 6.5632439218), (-22.8116791695, 4.7285929322), (-28.3499248326, 4.5571303926), (-29.4209925105, 6.4892523833), (-30.0988443196, 7.7120438218), (-30.0988443196, 3.9512561634), (-28.1235463917, 1.2368093012), (-19.0833117813, 4.3078940362), (-17.8145058453, 13.1751103327), (-15.4354972765, 11.4881768823), (-14.0071965859, 13.5024469656), (-11.5485337064, 11.7590313642), (-8.9431926608, 14.169969596), (-10.875236243, 3.3707101829), (-1.3447812526, -1.0412705597), (1.394683728, 0), (8.2433465868, -3.5932986066), (13.6357676238, -3.5932986066), (16.1157045513, -6.7941471934), (11.7125554425, 24.2616013296), (8.5552403661, 28.6131991288), (1.5173847093, 27.499334136), (-14.4329823518, 30.0980165206), (-21.9111200422, 27.7687609196), align=None)
        Polygon((-7.1180537343, 5.5476040579), (-7.4640917592, 11.9060464203), (-3.9604599588, 15.3231685981), (1.3454514556, 15.4385138303), (8.0931866542, 8.5177607834), (2.6719293091, 2.5053559802), (-2.8935102746, 2.5053559802), align=None, mode=Mode.SUBTRACT)
        Polygon((-28.1036924571, 13.4672932327), (-30.6994514223, 11.5721586804), (-31.3622131944, 11.0882837325), (-30.0988443196, 7.7120438218), (-29.4209925105, 6.4892523833), (-25.0553801825, 7.0839998448), (-23.1149829924, 10.9873563051), align=None)
        Polygon((-1.6535416944, 11.9925569743), (-4.5083528385, 8.8493805379), (-2.4753811304, 5.2159847692), (0.5236121942, 4.9997111782), (2.3403100204, 9.3540186062), align=None)
    extrude(amount=F4_DEPTH)

    # F0 (on Top) → F5 (join)
    with BuildSketch(Plane.XY):
        Polygon((-27.3744759216, 21.5401743719), (-28.9157517254, 19.7830181569), (-28.4356558695, 18.2484276593), (-27.9555600137, 16.7138371617), (-23.7718690187, 17.1082001179), (-19.6567643434, 13.3531671017), (-19.9311058968, 6.5632439218), (-22.8116791695, 4.7285929322), (-28.3499248326, 4.5571303926), (-29.4209925105, 6.4892523833), (-30.0988443196, 7.7120438218), (-30.0988443196, 3.9512561634), (-28.1235463917, 1.2368093012), (-19.0833117813, 4.3078940362), (-17.8145058453, 13.1751103327), (-15.4354972765, 11.4881768823), (-14.0071965859, 13.5024469656), (-11.5485337064, 11.7590313642), (-8.9431926608, 14.169969596), (-10.875236243, 3.3707101829), (-1.3447812526, -1.0412705597), (1.394683728, 0), (8.2433465868, -3.5932986066), (13.6357676238, -3.5932986066), (16.1157045513, -6.7941471934), (11.7125554425, 24.2616013296), (8.5552403661, 28.6131991288), (1.5173847093, 27.499334136), (-14.4329823518, 30.0980165206), (-21.9111200422, 27.7687609196), align=None)
        Polygon((-7.1180537343, 5.5476040579), (-7.4640917592, 11.9060464203), (-3.9604599588, 15.3231685981), (1.3454514556, 15.4385138303), (8.0931866542, 8.5177607834), (2.6719293091, 2.5053559802), (-2.8935102746, 2.5053559802), align=None, mode=Mode.SUBTRACT)
        Polygon((-24.003424822, -2.0569759701), (-16.9485407512, -2.1701556624), (-14.9355856702, 0), (-11.3225607201, 0.7360266754), (-17.311938107, 3.0396326911), align=None)
        Polygon((-27.302313596, -2.0040527452), (-21.7251610011, -11.2912235782), (-13.6989112943, -2.2222886328), (-16.9485407512, -2.1701556624), (-24.003424822, -2.0569759701), align=None)
    extrude(amount=F5_DEPTH)

    # F0 (on Top) → F6 (join)
    with BuildSketch(Plane.XY):
        Polygon((-27.302313596, -2.0040527452), (-21.7251610011, -11.2912235782), (-13.6989112943, -2.2222886328), (-16.9485407512, -2.1701556624), (-24.003424822, -2.0569759701), align=None)
    extrude(amount=F6_DEPTH)

    # F7 (add, through all): faces of the model
    f7_faces = [f1.faces().sort_by_distance(p)[0] for p in [
        (-27.4220636925, 9.8497741622, 11.1125),
        (-1.0757104764, 8.2793181779, 11.1125),
    ]]
    extrude(f7_faces, amount=F7_DEPTH)

    # F8 (add, through all): faces of the model
    f8_faces = [f1.faces().sort_by_distance(p)[0] for p in [
        (-25.8480259435, 16.7445827735, 9.525),
        (4.5744647012, 11.8369042916, 9.525),
    ]]
    extrude(f8_faces, amount=F8_DEPTH)


solid = f1.part
